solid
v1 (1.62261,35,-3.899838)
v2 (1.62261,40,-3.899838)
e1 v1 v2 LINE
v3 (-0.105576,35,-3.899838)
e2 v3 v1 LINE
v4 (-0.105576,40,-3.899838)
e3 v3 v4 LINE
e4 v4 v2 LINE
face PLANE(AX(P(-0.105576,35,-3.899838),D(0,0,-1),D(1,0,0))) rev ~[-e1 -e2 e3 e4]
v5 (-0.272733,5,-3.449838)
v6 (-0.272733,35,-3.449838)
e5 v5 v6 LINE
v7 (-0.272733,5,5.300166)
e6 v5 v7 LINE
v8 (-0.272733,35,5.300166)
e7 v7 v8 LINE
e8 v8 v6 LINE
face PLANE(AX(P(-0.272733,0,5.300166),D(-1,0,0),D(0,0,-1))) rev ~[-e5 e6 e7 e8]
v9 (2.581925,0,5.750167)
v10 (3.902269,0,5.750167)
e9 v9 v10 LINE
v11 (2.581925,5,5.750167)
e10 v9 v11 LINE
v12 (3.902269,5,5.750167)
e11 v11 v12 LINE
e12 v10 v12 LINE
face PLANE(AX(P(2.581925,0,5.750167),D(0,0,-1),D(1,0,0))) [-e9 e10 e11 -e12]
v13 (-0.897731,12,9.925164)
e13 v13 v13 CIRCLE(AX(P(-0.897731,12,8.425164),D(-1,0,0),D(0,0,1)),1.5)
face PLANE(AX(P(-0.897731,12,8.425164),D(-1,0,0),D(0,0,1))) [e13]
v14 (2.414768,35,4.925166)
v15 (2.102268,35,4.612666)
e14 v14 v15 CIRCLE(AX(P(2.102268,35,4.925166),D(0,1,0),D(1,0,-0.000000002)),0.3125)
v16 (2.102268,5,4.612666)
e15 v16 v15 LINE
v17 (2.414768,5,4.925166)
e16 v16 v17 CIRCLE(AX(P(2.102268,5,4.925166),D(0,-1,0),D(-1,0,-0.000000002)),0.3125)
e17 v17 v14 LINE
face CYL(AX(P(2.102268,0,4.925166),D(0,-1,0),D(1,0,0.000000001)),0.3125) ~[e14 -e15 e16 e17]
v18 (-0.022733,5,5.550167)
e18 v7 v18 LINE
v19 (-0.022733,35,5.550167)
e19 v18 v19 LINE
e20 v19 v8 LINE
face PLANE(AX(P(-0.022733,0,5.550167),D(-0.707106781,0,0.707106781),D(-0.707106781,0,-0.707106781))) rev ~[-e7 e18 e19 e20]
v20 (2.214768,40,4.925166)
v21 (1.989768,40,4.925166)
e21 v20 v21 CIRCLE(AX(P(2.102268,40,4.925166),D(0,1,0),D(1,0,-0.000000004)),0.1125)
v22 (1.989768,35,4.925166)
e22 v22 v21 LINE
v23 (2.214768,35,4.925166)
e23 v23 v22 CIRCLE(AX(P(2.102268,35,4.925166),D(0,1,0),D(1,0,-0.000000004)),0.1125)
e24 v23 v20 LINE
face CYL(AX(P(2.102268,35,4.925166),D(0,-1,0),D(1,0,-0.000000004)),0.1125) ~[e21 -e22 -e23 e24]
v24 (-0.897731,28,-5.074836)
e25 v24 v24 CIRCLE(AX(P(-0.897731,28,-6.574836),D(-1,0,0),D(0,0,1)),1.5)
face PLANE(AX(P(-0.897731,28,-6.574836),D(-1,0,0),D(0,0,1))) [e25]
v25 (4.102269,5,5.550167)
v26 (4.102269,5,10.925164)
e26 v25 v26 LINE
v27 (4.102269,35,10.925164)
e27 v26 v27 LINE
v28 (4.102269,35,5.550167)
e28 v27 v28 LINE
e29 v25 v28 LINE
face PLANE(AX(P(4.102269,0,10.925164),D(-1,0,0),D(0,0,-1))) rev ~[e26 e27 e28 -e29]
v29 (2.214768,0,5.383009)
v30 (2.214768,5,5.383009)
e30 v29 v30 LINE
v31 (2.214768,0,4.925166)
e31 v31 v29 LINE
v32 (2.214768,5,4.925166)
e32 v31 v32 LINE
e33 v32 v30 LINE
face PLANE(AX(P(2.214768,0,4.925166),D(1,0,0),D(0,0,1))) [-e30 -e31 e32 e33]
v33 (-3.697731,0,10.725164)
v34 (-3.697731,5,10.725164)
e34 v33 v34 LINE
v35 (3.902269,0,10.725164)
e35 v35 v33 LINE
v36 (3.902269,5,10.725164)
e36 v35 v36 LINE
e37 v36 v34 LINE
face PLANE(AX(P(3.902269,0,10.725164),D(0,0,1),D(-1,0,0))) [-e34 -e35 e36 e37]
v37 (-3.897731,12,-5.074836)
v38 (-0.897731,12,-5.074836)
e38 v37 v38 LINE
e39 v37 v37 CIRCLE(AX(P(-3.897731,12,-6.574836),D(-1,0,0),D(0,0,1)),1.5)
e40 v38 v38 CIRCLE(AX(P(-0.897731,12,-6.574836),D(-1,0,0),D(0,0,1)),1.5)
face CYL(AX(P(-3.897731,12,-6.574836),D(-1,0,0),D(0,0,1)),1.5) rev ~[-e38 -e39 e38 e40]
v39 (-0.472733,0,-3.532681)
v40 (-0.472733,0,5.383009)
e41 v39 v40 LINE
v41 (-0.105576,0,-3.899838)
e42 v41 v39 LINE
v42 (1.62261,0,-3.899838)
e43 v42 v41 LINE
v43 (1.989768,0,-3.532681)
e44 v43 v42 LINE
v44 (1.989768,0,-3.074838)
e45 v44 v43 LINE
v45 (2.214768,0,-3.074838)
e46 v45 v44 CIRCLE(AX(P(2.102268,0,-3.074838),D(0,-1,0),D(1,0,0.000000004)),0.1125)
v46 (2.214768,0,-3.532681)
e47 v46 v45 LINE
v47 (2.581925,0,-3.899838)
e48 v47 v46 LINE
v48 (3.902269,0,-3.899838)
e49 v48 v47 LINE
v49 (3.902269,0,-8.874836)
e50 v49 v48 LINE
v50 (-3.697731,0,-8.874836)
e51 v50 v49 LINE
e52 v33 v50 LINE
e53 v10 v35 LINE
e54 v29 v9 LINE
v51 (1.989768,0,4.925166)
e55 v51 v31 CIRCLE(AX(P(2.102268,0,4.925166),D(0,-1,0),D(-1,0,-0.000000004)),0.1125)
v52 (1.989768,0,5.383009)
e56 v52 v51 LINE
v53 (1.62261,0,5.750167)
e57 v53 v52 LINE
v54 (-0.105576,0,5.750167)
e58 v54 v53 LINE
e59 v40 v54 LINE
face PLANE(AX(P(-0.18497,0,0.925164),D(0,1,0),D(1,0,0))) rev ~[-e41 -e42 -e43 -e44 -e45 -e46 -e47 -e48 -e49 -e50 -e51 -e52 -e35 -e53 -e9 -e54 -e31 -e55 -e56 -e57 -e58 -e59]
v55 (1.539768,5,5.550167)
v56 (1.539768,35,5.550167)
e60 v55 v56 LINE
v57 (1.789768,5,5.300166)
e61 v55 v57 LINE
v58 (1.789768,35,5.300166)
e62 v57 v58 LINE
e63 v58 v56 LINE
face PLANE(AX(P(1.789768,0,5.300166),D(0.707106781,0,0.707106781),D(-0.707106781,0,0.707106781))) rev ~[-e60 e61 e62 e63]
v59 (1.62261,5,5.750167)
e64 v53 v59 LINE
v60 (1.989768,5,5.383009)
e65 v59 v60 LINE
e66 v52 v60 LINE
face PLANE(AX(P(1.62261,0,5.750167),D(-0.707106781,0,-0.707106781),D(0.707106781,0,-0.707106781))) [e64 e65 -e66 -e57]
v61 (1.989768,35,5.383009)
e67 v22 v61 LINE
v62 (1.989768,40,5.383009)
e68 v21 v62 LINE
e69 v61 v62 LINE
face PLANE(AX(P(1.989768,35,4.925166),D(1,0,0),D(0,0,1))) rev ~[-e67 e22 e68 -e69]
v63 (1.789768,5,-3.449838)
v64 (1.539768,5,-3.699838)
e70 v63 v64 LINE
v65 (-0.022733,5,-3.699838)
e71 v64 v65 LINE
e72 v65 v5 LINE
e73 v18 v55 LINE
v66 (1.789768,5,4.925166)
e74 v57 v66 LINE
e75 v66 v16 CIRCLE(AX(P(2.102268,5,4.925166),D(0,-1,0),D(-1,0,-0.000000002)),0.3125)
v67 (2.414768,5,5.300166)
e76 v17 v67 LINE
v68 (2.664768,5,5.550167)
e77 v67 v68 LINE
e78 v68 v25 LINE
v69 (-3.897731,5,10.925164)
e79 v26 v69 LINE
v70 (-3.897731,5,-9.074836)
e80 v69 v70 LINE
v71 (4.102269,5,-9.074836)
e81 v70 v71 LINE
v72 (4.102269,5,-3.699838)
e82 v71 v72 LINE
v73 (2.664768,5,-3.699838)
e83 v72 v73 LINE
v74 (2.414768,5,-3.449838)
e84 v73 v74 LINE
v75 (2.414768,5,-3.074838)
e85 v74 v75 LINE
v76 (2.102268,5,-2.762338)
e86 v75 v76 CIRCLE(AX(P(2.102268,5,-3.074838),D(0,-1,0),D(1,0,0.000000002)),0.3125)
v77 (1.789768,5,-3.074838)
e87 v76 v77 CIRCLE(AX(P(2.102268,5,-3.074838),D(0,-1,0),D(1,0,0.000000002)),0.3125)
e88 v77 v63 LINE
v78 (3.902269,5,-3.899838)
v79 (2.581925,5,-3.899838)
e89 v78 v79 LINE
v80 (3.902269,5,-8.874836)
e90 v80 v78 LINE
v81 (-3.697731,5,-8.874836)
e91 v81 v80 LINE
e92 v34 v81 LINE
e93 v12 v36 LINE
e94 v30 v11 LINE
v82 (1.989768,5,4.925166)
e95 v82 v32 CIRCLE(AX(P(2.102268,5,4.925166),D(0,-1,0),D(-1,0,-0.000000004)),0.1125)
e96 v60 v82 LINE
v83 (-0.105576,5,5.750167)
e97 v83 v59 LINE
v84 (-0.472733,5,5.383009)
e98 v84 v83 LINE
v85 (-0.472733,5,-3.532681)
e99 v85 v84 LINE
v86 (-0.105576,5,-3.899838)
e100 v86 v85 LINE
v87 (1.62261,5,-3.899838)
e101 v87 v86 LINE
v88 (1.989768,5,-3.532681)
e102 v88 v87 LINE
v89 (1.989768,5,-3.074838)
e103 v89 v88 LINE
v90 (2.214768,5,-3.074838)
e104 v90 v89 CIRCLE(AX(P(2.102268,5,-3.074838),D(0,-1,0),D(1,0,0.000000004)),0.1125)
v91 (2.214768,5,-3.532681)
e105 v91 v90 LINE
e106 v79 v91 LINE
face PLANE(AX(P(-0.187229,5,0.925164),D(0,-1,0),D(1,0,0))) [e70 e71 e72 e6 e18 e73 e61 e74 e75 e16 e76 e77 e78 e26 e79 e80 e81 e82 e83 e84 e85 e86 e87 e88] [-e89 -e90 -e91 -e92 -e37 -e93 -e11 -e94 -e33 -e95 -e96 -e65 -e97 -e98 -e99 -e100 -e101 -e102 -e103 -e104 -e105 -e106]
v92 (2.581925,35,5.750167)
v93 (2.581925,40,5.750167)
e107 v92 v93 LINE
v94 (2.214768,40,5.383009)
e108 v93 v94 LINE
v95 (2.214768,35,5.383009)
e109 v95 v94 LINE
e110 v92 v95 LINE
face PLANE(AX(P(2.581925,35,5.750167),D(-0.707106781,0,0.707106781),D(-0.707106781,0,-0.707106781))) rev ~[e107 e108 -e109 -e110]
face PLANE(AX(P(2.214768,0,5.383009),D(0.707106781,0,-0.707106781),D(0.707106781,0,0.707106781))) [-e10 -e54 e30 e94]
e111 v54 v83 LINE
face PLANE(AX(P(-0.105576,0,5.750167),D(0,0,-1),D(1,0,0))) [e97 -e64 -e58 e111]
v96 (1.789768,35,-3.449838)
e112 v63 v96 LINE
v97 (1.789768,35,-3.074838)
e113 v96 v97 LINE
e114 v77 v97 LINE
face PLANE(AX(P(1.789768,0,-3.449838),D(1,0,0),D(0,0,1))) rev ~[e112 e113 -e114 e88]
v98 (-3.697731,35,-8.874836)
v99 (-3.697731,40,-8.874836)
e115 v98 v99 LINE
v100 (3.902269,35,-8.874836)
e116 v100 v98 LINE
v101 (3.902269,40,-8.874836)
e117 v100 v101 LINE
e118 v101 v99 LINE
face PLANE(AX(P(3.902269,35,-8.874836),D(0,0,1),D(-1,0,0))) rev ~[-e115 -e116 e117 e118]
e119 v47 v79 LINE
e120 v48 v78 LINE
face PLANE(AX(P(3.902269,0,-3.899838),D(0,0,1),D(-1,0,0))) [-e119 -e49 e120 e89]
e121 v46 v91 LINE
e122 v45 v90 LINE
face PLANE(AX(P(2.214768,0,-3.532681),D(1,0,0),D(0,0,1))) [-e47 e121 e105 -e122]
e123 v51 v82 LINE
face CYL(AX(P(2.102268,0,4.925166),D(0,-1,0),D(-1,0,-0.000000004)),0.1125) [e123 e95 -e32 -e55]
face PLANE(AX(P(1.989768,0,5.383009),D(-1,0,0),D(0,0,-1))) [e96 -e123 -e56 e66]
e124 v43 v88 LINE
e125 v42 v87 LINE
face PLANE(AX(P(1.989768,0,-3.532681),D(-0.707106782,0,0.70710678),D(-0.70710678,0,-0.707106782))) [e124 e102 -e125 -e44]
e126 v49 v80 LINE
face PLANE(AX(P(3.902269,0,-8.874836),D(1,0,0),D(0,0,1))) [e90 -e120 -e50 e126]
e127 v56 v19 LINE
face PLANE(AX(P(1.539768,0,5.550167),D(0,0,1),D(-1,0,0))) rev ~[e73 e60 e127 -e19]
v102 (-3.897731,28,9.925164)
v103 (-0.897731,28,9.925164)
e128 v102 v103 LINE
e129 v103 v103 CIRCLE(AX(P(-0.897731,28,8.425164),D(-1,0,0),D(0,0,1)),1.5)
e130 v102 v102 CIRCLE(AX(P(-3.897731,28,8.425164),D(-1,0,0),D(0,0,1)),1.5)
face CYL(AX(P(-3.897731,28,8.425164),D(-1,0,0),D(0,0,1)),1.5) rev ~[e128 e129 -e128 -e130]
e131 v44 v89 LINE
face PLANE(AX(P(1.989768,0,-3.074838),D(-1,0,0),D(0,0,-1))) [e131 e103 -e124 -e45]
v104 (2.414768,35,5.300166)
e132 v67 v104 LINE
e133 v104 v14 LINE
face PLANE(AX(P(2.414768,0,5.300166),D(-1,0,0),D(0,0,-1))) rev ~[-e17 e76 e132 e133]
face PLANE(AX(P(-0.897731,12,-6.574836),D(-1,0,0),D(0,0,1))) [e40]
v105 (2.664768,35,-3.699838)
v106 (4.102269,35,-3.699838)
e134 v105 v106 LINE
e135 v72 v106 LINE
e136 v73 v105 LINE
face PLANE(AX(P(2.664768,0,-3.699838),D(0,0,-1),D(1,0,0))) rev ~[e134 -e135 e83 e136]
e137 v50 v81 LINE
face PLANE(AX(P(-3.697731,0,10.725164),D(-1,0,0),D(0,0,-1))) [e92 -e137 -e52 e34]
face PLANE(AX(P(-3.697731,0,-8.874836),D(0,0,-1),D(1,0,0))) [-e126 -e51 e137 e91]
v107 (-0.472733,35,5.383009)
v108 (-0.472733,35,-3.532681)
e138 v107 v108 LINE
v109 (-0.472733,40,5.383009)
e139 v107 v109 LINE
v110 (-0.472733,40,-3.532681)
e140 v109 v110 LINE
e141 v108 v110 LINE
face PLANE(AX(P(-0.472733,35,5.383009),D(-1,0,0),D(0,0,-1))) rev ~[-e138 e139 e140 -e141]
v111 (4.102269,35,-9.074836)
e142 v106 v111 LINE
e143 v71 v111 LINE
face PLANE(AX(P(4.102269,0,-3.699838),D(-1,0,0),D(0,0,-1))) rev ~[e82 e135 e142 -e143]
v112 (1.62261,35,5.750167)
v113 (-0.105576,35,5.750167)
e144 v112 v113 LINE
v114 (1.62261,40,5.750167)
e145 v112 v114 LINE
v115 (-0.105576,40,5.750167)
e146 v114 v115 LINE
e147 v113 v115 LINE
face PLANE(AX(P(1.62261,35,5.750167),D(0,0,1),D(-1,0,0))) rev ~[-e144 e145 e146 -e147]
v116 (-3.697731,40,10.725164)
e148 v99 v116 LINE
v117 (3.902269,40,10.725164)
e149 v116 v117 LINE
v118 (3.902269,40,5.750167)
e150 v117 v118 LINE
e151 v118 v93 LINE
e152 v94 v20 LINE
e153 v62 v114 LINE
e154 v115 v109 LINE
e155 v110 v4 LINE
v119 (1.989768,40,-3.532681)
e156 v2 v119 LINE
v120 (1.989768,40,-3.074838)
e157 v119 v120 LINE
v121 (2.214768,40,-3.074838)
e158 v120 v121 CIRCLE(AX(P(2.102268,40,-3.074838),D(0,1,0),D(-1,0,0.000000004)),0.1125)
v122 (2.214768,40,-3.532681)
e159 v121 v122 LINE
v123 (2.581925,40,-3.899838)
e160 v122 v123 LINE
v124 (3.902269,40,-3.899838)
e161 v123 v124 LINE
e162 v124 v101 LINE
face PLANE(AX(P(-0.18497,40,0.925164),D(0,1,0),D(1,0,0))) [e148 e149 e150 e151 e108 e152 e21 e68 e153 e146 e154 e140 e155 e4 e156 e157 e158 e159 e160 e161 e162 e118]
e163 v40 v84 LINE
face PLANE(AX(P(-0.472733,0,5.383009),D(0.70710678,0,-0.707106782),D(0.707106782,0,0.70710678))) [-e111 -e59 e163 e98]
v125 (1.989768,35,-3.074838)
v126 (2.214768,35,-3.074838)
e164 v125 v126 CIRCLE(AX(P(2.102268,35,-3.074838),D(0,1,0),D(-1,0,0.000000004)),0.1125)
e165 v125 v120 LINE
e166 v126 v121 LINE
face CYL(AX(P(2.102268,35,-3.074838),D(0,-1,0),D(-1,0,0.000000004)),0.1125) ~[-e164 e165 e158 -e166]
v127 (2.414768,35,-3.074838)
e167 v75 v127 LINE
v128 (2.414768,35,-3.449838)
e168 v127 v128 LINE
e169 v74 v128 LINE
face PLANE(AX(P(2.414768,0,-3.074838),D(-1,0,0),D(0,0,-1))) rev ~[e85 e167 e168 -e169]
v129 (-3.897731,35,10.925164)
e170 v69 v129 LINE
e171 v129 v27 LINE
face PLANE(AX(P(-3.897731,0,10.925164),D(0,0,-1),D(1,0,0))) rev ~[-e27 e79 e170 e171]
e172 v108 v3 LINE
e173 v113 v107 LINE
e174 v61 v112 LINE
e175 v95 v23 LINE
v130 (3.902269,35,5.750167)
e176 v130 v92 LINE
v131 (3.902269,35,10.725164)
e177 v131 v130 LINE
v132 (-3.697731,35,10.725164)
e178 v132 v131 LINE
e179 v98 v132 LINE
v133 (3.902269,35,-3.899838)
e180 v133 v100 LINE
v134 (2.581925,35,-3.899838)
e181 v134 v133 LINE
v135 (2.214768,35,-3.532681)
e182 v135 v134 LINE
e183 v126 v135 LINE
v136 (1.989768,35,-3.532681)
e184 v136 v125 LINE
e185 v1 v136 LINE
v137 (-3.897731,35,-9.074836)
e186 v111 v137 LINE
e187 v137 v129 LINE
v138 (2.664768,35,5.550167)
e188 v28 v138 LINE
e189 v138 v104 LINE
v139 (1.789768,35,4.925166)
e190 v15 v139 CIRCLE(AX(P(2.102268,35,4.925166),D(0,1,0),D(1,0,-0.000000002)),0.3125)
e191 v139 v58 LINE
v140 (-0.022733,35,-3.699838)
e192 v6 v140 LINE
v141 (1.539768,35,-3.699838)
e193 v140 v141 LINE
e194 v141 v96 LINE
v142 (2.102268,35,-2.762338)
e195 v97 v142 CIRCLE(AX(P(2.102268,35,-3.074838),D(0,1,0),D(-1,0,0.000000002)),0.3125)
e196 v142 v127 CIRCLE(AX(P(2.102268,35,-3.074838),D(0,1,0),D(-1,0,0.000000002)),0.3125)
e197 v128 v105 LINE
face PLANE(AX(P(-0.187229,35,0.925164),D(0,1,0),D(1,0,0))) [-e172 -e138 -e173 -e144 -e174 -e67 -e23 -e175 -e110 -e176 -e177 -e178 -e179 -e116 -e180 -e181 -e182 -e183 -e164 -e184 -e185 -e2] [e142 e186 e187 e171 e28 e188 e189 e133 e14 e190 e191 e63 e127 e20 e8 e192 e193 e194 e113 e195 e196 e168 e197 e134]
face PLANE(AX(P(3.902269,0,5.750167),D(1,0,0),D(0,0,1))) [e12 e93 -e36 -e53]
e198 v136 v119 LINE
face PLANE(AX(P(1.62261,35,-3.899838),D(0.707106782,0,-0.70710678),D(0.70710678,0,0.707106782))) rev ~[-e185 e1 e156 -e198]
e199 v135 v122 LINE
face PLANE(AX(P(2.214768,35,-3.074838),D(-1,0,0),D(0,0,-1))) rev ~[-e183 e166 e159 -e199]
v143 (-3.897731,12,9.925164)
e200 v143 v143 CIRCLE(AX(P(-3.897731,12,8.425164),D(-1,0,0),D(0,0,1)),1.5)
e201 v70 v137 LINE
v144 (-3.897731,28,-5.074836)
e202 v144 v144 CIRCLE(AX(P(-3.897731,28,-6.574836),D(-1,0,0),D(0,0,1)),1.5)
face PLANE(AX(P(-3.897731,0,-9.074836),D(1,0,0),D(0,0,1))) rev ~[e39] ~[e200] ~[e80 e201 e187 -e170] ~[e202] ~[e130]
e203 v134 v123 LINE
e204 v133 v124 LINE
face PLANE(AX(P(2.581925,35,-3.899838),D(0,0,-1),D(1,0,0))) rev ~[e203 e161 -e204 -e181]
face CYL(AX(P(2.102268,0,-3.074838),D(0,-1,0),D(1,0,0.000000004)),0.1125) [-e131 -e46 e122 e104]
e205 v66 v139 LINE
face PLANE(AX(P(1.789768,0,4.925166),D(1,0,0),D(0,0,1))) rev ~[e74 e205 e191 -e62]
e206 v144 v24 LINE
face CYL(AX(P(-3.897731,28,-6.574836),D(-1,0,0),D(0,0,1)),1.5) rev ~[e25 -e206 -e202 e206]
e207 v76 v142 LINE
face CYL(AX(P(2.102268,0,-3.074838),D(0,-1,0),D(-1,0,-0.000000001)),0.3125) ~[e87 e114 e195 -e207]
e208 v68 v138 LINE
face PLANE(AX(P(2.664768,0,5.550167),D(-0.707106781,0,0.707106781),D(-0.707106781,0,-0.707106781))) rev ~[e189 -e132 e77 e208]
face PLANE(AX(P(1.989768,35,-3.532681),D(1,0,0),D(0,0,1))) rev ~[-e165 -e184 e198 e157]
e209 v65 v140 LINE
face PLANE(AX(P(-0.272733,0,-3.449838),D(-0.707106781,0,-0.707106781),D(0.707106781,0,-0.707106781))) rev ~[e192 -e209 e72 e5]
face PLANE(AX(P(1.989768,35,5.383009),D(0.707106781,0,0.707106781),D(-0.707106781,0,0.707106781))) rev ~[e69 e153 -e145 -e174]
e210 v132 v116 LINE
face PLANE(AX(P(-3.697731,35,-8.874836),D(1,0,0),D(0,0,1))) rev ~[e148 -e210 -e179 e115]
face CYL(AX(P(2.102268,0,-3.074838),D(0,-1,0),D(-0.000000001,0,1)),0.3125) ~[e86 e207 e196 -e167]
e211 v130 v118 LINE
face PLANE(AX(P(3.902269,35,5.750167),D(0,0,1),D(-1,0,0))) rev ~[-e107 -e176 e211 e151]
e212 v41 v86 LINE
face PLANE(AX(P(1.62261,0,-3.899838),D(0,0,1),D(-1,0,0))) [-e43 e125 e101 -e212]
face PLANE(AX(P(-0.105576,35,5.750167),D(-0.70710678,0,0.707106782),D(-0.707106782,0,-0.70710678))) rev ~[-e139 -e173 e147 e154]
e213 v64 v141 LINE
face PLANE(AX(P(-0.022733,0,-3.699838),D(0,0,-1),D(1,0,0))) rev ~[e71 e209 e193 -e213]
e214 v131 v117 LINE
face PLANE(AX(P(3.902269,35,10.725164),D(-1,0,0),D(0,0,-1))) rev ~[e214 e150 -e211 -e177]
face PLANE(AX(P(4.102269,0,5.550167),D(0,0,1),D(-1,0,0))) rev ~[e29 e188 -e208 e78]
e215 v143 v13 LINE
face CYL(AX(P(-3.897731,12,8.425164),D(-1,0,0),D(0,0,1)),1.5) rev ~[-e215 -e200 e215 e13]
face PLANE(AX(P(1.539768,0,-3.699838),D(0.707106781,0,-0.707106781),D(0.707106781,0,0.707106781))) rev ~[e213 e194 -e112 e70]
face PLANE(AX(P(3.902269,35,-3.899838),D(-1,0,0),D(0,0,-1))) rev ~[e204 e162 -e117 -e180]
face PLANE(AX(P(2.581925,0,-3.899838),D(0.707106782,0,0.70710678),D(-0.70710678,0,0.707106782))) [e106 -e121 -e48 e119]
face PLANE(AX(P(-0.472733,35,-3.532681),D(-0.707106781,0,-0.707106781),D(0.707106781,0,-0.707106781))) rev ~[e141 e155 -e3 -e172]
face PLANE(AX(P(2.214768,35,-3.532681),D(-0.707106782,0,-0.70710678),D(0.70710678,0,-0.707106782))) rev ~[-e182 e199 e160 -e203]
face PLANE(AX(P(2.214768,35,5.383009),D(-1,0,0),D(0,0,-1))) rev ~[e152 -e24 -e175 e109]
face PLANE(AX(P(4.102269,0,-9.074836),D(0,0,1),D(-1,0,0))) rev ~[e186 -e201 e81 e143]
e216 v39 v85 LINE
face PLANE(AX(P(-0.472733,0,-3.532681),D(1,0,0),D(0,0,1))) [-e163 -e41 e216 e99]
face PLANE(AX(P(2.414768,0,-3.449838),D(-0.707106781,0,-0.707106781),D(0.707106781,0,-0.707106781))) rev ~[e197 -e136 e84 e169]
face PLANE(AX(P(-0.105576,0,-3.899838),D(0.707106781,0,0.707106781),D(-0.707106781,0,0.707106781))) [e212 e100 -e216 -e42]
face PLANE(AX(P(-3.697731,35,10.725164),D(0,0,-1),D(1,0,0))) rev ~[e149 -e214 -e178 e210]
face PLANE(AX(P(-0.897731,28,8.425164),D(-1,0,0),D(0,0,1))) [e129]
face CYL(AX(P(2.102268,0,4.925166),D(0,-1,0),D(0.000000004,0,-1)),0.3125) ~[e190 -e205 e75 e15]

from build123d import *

# Parameters (mm, degrees)
BOSS_EXTRUDE1_DEPTH = 40
CUT_EXTRUDE6_START  = -5
CUT_EXTRUDE6_DEPTH  = 5
CUT_EXTRUDE7_DEPTH  = 5
SKETCH10_R          = 1.5
CUT_EXTRUDE8_DEPTH  = 3
CUT_EXTRUDE4_START  = -5
CUT_EXTRUDE4_DEPTH  = 5
CUT_EXTRUDE5_DEPTH  = 5


with BuildPart() as part:
    # Sketch1 → Boss-Extrude1 (new body)
    with BuildSketch(Plane(origin=(0, 0, 0), x_dir=(1, 0, 0), z_dir=(0, 1, 0))):
        with BuildLine():
            Line((-3.897731109, -10.925164292), (4.102268891, -10.925164292))
            Line((4.102268891, -10.925164292), (4.102268891, -5.550166604))
            Line((4.102268891, -5.550166604), (3.383518531, -5.550166604))
            Line((3.383518531, -5.550166604), (2.664768172, -5.550166604))
            Line((2.664768172, -5.550166604), (2.414768047, -5.300166479))
            Line((2.414768047, -5.300166479), (2.414768047, -4.925166292))
            ThreePointArc((2.414768047, -4.925166292), (2.32323887, -4.704195312), (2.102267891, -4.612666136))
            ThreePointArc((2.102267891, -4.612666136), (1.881296911, -4.704195312), (1.789767734, -4.925166292))
            Line((1.789767734, -4.925166292), (1.789767734, -5.300166479))
            Line((1.789767734, -5.300166479), (1.539767609, -5.550166604))
            Line((1.539767609, -5.550166604), (-0.022733172, -5.550166604))
            Line((-0.022733172, -5.550166604), (-0.272733297, -5.300166479))
            Line((-0.272733297, -5.300166479), (-0.272733297, 3.449837896))
            Line((-0.272733297, 3.449837896), (-0.022733172, 3.699838021))
            Line((-0.022733172, 3.699838021), (1.539767609, 3.699838021))
            Line((1.539767609, 3.699838021), (1.789767734, 3.449837896))
            Line((1.789767734, 3.449837896), (1.789767734, 3.074837708))
            ThreePointArc((1.789767734, 3.074837708), (1.881296911, 2.853866728), (2.102267891, 2.762337552))
            ThreePointArc((2.102267891, 2.762337552), (2.32323887, 2.853866728), (2.414768047, 3.074837708))
            Line((2.414768047, 3.074837708), (2.414768047, 3.449837896))
            Line((2.414768047, 3.449837896), (2.664768172, 3.699838021))
            Line((2.664768172, 3.699838021), (3.383518531, 3.699838021))
            Line((3.383518531, 3.699838021), (4.102268891, 3.699838021))
            Line((4.102268891, 3.699838021), (4.102268891, 9.074835708))
            Line((4.102268891, 9.074835708), (-3.897731109, 9.074835708))
            Line((-3.897731109, 9.074835708), (-3.897731109, -10.925164292))
        make_face()
    extrude(amount=BOSS_EXTRUDE1_DEPTH)

    # Sketch8 → Cut-Extrude6 (cut)
    with BuildSketch(Plane(origin=(0, 40, 0), x_dir=(1, 0, 0), z_dir=(0, 1, 0)).offset(CUT_EXTRUDE6_START)):
        with BuildLine():
            Line((2.414768047, 3.074837708), (2.414768047, 3.449837896))
            Line((2.414768047, 3.449837896), (2.664768172, 3.699838021))
            Line((2.664768172, 3.699838021), (4.102268891, 3.699838021))
            Line((4.102268891, 3.699838021), (4.102268891, 9.074835708))
            Line((4.102268891, 9.074835708), (-3.897731109, 9.074835708))
            Line((-3.897731109, 9.074835708), (-3.897731109, -10.925164292))
            Line((-3.897731109, -10.925164292), (4.102268891, -10.925164292))
            Line((4.102268891, -10.925164292), (4.102268891, -5.550166604))
            Line((4.102268891, -5.550166604), (2.664768172, -5.550166604))
            Line((2.664768172, -5.550166604), (2.414768047, -5.300166479))
            Line((2.414768047, -5.300166479), (2.414768047, -4.925166292))
            ThreePointArc((2.414768047, -4.925166292), (2.102267891, -4.612666136), (1.789767734, -4.925166292))
            Line((1.789767734, -4.925166292), (1.789767734, -5.300166479))
            Line((1.789767734, -5.300166479), (1.539767609, -5.550166604))
            Line((1.539767609, -5.550166604), (-0.022733172, -5.550166604))
            Line((-0.022733172, -5.550166604), (-0.272733297, -5.300166479))
            Line((-0.272733297, -5.300166479), (-0.272733297, 3.449837896))
            Line((-0.272733297, 3.449837896), (-0.022733172, 3.699838021))
            Line((-0.022733172, 3.699838021), (1.539767609, 3.699838021))
            Line((1.539767609, 3.699838021), (1.789767734, 3.449837896))
            Line((1.789767734, 3.449837896), (1.789767734, 3.074837708))
            ThreePointArc((1.789767734, 3.074837708), (2.102267891, 2.762337552), (2.414768047, 3.074837708))
        make_face()
        with BuildLine():
            Line((2.314768047, 3.074837708), (2.314768047, 3.491259252))
            Line((2.314768047, 3.491259252), (2.623346816, 3.799838021))
            Line((2.623346816, 3.799838021), (4.002268891, 3.799838021))
            Line((4.002268891, 3.799838021), (4.002268891, 8.974835708))
            Line((4.002268891, 8.974835708), (-3.797731109, 8.974835708))
            Line((-3.797731109, 8.974835708), (-3.797731109, -10.825164292))
            Line((-3.797731109, -10.825164292), (4.002268891, -10.825164292))
            Line((4.002268891, -10.825164292), (4.002268891, -5.650166604))
            Line((4.002268891, -5.650166604), (2.623346816, -5.650166604))
            Line((2.623346816, -5.650166604), (2.314768047, -5.341587836))
            Line((2.314768047, -5.341587836), (2.314768047, -4.925166292))
            ThreePointArc((2.314768047, -4.925166292), (2.102267891, -4.712666136), (1.889767734, -4.925166292))
            Line((1.889767734, -4.925166292), (1.889767734, -5.341587836))
            Line((1.889767734, -5.341587836), (1.581188966, -5.650166604))
            Line((1.581188966, -5.650166604), (-0.064154528, -5.650166604))
            Line((-0.064154528, -5.650166604), (-0.372733297, -5.341587836))
            Line((-0.372733297, -5.341587836), (-0.372733297, 3.491259252))
            Line((-0.372733297, 3.491259252), (-0.064154528, 3.799838021))
            Line((-0.064154528, 3.799838021), (1.581188966, 3.799838021))
            Line((1.581188966, 3.799838021), (1.889767734, 3.491259252))
            Line((1.889767734, 3.491259252), (1.889767734, 3.074837708))
            ThreePointArc((1.889767734, 3.074837708), (2.102267891, 2.862337552), (2.314768047, 3.074837708))
        make_face(mode=Mode.SUBTRACT)
    extrude(amount=CUT_EXTRUDE6_DEPTH, mode=Mode.SUBTRACT)

    # Sketch9 → Cut-Extrude7 (cut)
    with BuildSketch(Plane.XZ):
        with BuildLine():
            Line((1.789767734, -3.074837708), (1.789767734, -3.449837896))
            Line((1.789767734, -3.449837896), (1.539767609, -3.699838021))
            Line((1.539767609, -3.699838021), (-0.022733172, -3.699838021))
            Line((-0.022733172, -3.699838021), (-0.272733297, -3.449837896))
            Line((-0.272733297, -3.449837896), (-0.272733297, 5.300166479))
            Line((-0.272733297, 5.300166479), (-0.022733172, 5.550166604))
            Line((-0.022733172, 5.550166604), (1.539767609, 5.550166604))
            Line((1.539767609, 5.550166604), (1.789767734, 5.300166479))
            Line((1.789767734, 5.300166479), (1.789767734, 4.925166292))
            ThreePointArc((1.789767734, 4.925166292), (2.102267891, 4.612666136), (2.414768047, 4.925166292))
            Line((2.414768047, 4.925166292), (2.414768047, 5.300166479))
            Line((2.414768047, 5.300166479), (2.664768172, 5.550166604))
            Line((2.664768172, 5.550166604), (4.102268891, 5.550166604))
            Line((4.102268891, 5.550166604), (4.102268891, 10.925164292))
            Line((4.102268891, 10.925164292), (-3.897731109, 10.925164292))
            Line((-3.897731109, 10.925164292), (-3.897731109, -9.074835708))
            Line((-3.897731109, -9.074835708), (4.102268891, -9.074835708))
            Line((4.102268891, -9.074835708), (4.102268891, -3.699838021))
            Line((4.102268891, -3.699838021), (2.664768172, -3.699838021))
            Line((2.664768172, -3.699838021), (2.414768047, -3.449837896))
            Line((2.414768047, -3.449837896), (2.414768047, -3.074837708))
            ThreePointArc((2.414768047, -3.074837708), (2.102267891, -2.762337552), (1.789767734, -3.074837708))
        make_face()
        with BuildLine():
            Line((1.889767734, -3.074837708), (1.889767734, -3.491259252))
            Line((1.889767734, -3.491259252), (1.581188966, -3.799838021))
            Line((1.581188966, -3.799838021), (-0.064154528, -3.799838021))
            Line((-0.064154528, -3.799838021), (-0.372733297, -3.491259252))
            Line((-0.372733297, -3.491259252), (-0.372733297, 5.341587836))
            Line((-0.372733297, 5.341587836), (-0.064154528, 5.650166604))
            Line((-0.064154528, 5.650166604), (1.581188966, 5.650166604))
            Line((1.581188966, 5.650166604), (1.889767734, 5.341587836))
            Line((1.889767734, 5.341587836), (1.889767734, 4.925166292))
            ThreePointArc((1.889767734, 4.925166292), (2.102267891, 4.712666136), (2.314768047, 4.925166292))
            Line((2.314768047, 4.925166292), (2.314768047, 5.341587836))
            Line((2.314768047, 5.341587836), (2.623346816, 5.650166604))
            Line((2.623346816, 5.650166604), (4.002268891, 5.650166604))
            Line((4.002268891, 5.650166604), (4.002268891, 10.825164292))
            Line((4.002268891, 10.825164292), (-3.797731109, 10.825164292))
            Line((-3.797731109, 10.825164292), (-3.797731109, -8.974835708))
            Line((-3.797731109, -8.974835708), (4.002268891, -8.974835708))
            Line((4.002268891, -8.974835708), (4.002268891, -3.799838021))
            Line((4.002268891, -3.799838021), (2.623346816, -3.799838021))
            Line((2.623346816, -3.799838021), (2.314768047, -3.491259252))
            Line((2.314768047, -3.491259252), (2.314768047, -3.074837708))
            ThreePointArc((2.314768047, -3.074837708), (2.102267891, -2.862337552), (1.889767734, -3.074837708))
        make_face(mode=Mode.SUBTRACT)
    extrude(amount=-CUT_EXTRUDE7_DEPTH, mode=Mode.SUBTRACT)

    # Sketch10 → Cut-Extrude8 (cut)
    with BuildSketch(Plane.ZY.offset(3.897731109)):
        with Locations((-6.574835708, 28)):
            Circle(SKETCH10_R)
        with Locations((8.425164292, 28)):
            Circle(SKETCH10_R)
        with Locations((8.425164292, 12)):
            Circle(SKETCH10_R)
        with Locations((-6.574835708, 12)):
            Circle(SKETCH10_R)
    extrude(amount=-CUT_EXTRUDE8_DEPTH, mode=Mode.SUBTRACT)

    # Sketch5 → Cut-Extrude4 (cut)
    with BuildSketch(Plane(origin=(0, 40, 0), x_dir=(1, 0, 0), z_dir=(0, 1, 0)).offset(CUT_EXTRUDE4_START)):
        with BuildLine():
            Line((1.889767734, 3.491259252), (1.889767734, 3.074837708))
            ThreePointArc((1.889767734, 3.074837708), (2.102267891, 2.862337552), (2.314768047, 3.074837708))
            Line((2.314768047, 3.074837708), (2.314768047, 3.491259252))
            Line((2.314768047, 3.491259252), (2.623346816, 3.799838021))
            Line((2.623346816, 3.799838021), (4.002268891, 3.799838021))
            Line((4.002268891, 3.799838021), (4.002268891, 8.974835708))
            Line((4.002268891, 8.974835708), (-3.797731109, 8.974835708))
            Line((-3.797731109, 8.974835708), (-3.797731109, -10.825164292))
            Line((-3.797731109, -10.825164292), (4.002268891, -10.825164292))
            Line((4.002268891, -10.825164292), (4.002268891, -5.650166604))
            Line((4.002268891, -5.650166604), (2.623346816, -5.650166604))
            Line((2.623346816, -5.650166604), (2.314768047, -5.341587836))
            Line((2.314768047, -5.341587836), (2.314768047, -4.925166292))
            ThreePointArc((2.314768047, -4.925166292), (2.102267891, -4.712666136), (1.889767734, -4.925166292))
            Line((1.889767734, -4.925166292), (1.889767734, -5.341587836))
            Line((1.889767734, -5.341587836), (1.581188966, -5.650166604))
            Line((1.581188966, -5.650166604), (-0.064154528, -5.650166604))
            Line((-0.064154528, -5.650166604), (-0.372733297, -5.341587836))
            Line((-0.372733297, -5.341587836), (-0.372733297, 3.491259252))
            Line((-0.372733297, 3.491259252), (-0.064154528, 3.799838021))
            Line((-0.064154528, 3.799838021), (1.581188966, 3.799838021))
            Line((1.581188966, 3.799838021), (1.889767734, 3.491259252))
        make_face()
        with BuildLine():
            Line((1.989767734, 3.532680608), (1.989767734, 3.074837708))
            ThreePointArc((1.989767734, 3.074837708), (2.102267891, 2.962337552), (2.214768047, 3.074837708))
            Line((2.214768047, 3.074837708), (2.214768047, 3.532680608))
            Line((2.214768047, 3.532680608), (2.581925459, 3.899838021))
            Line((2.581925459, 3.899838021), (3.902268891, 3.899838021))
            Line((3.902268891, 3.899838021), (3.902268891, 8.874835708))
            Line((3.902268891, 8.874835708), (-3.697731109, 8.874835708))
            Line((-3.697731109, 8.874835708), (-3.697731109, -10.725164292))
            Line((-3.697731109, -10.725164292), (3.902268891, -10.725164292))
            Line((3.902268891, -10.725164292), (3.902268891, -5.750166604))
            Line((3.902268891, -5.750166604), (2.581925459, -5.750166604))
            Line((2.581925459, -5.750166604), (2.214768047, -5.383009192))
            Line((2.214768047, -5.383009192), (2.214768047, -4.925166292))
            ThreePointArc((2.214768047, -4.925166292), (2.102267891, -4.812666136), (1.989767734, -4.925166292))
            Line((1.989767734, -4.925166292), (1.989767734, -5.383009192))
            Line((1.989767734, -5.383009192), (1.622610322, -5.750166604))
            Line((1.622610322, -5.750166604), (-0.105575884, -5.750166604))
            Line((-0.105575884, -5.750166604), (-0.472733297, -5.383009192))
            Line((-0.472733297, -5.383009192), (-0.472733297, 3.532680608))
            Line((-0.472733297, 3.532680608), (-0.105575884, 3.899838021))
            Line((-0.105575884, 3.899838021), (1.622610322, 3.899838021))
            Line((1.622610322, 3.899838021), (1.989767734, 3.532680608))
        make_face(mode=Mode.SUBTRACT)
    extrude(amount=CUT_EXTRUDE4_DEPTH, mode=Mode.SUBTRACT)

    # Sketch6 → Cut-Extrude5 (cut)
    with BuildSketch(Plane.XZ):
        with BuildLine():
            Line((1.889767734, -3.491259252), (1.581188966, -3.799838021))
            Line((1.581188966, -3.799838021), (-0.064154528, -3.799838021))
            Line((-0.064154528, -3.799838021), (-0.372733297, -3.491259252))
            Line((-0.372733297, -3.491259252), (-0.372733297, 5.341587836))
            Line((-0.372733297, 5.341587836), (-0.064154528, 5.650166604))
            Line((-0.064154528, 5.650166604), (1.581188966, 5.650166604))
            Line((1.581188966, 5.650166604), (1.889767734, 5.341587836))
            Line((1.889767734, 5.341587836), (1.889767734, 4.925166292))
            ThreePointArc((1.889767734, 4.925166292), (2.102267891, 4.712666136), (2.314768047, 4.925166292))
            Line((2.314768047, 4.925166292), (2.314768047, 5.341587836))
            Line((2.314768047, 5.341587836), (2.623346816, 5.650166604))
            Line((2.623346816, 5.650166604), (4.002268891, 5.650166604))
            Line((4.002268891, 5.650166604), (4.002268891, 10.825164292))
            Line((4.002268891, 10.825164292), (-3.797731109, 10.825164292))
            Line((-3.797731109, 10.825164292), (-3.797731109, -8.974835708))
            Line((-3.797731109, -8.974835708), (4.002268891, -8.974835708))
            Line((4.002268891, -8.974835708), (4.002268891, -3.799838021))
            Line((4.002268891, -3.799838021), (2.623346816, -3.799838021))
            Line((2.623346816, -3.799838021), (2.314768047, -3.491259252))
            Line((2.314768047, -3.491259252), (2.314768047, -3.074837708))
            ThreePointArc((2.314768047, -3.074837708), (2.102267891, -2.862337552), (1.889767734, -3.074837708))
            Line((1.889767734, -3.074837708), (1.889767734, -3.491259252))
        make_face()
        with BuildLine():
            Line((1.622610322, -3.899838021), (-0.105575884, -3.899838021))
            Line((-0.105575884, -3.899838021), (-0.472733297, -3.532680608))
            Line((-0.472733297, -3.532680608), (-0.472733297, 5.383009192))
            Line((-0.472733297, 5.383009192), (-0.105575884, 5.750166604))
            Line((-0.105575884, 5.750166604), (1.622610322, 5.750166604))
            Line((1.622610322, 5.750166604), (1.989767734, 5.383009192))
            Line((1.989767734, 5.383009192), (1.989767734, 4.925166292))
            ThreePointArc((1.989767734, 4.925166292), (2.102267891, 4.812666136), (2.214768047, 4.925166292))
            Line((2.214768047, 4.925166292), (2.214768047, 5.383009192))
            Line((2.214768047, 5.383009192), (2.581925459, 5.750166604))
            Line((2.581925459, 5.750166604), (3.902268891, 5.750166604))
            Line((3.902268891, 5.750166604), (3.902268891, 10.725164292))
            Line((3.902268891, 10.725164292), (-3.697731109, 10.725164292))
            Line((-3.697731109, 10.725164292), (-3.697731109, -8.874835708))
            Line((-3.697731109, -8.874835708), (3.902268891, -8.874835708))
            Line((3.902268891, -8.874835708), (3.902268891, -3.899838021))
            Line((3.902268891, -3.899838021), (2.581925459, -3.899838021))
            Line((2.581925459, -3.899838021), (2.214768047, -3.532680608))
            Line((2.214768047, -3.532680608), (2.214768047, -3.074837708))
            ThreePointArc((2.214768047, -3.074837708), (2.102267891, -2.962337552), (1.989767734, -3.074837708))
            Line((1.989767734, -3.074837708), (1.989767734, -3.532680608))
            Line((1.989767734, -3.532680608), (1.622610322, -3.899838021))
        make_face(mode=Mode.SUBTRACT)
    extrude(amount=-CUT_EXTRUDE5_DEPTH, mode=Mode.SUBTRACT)


solid = part.part
